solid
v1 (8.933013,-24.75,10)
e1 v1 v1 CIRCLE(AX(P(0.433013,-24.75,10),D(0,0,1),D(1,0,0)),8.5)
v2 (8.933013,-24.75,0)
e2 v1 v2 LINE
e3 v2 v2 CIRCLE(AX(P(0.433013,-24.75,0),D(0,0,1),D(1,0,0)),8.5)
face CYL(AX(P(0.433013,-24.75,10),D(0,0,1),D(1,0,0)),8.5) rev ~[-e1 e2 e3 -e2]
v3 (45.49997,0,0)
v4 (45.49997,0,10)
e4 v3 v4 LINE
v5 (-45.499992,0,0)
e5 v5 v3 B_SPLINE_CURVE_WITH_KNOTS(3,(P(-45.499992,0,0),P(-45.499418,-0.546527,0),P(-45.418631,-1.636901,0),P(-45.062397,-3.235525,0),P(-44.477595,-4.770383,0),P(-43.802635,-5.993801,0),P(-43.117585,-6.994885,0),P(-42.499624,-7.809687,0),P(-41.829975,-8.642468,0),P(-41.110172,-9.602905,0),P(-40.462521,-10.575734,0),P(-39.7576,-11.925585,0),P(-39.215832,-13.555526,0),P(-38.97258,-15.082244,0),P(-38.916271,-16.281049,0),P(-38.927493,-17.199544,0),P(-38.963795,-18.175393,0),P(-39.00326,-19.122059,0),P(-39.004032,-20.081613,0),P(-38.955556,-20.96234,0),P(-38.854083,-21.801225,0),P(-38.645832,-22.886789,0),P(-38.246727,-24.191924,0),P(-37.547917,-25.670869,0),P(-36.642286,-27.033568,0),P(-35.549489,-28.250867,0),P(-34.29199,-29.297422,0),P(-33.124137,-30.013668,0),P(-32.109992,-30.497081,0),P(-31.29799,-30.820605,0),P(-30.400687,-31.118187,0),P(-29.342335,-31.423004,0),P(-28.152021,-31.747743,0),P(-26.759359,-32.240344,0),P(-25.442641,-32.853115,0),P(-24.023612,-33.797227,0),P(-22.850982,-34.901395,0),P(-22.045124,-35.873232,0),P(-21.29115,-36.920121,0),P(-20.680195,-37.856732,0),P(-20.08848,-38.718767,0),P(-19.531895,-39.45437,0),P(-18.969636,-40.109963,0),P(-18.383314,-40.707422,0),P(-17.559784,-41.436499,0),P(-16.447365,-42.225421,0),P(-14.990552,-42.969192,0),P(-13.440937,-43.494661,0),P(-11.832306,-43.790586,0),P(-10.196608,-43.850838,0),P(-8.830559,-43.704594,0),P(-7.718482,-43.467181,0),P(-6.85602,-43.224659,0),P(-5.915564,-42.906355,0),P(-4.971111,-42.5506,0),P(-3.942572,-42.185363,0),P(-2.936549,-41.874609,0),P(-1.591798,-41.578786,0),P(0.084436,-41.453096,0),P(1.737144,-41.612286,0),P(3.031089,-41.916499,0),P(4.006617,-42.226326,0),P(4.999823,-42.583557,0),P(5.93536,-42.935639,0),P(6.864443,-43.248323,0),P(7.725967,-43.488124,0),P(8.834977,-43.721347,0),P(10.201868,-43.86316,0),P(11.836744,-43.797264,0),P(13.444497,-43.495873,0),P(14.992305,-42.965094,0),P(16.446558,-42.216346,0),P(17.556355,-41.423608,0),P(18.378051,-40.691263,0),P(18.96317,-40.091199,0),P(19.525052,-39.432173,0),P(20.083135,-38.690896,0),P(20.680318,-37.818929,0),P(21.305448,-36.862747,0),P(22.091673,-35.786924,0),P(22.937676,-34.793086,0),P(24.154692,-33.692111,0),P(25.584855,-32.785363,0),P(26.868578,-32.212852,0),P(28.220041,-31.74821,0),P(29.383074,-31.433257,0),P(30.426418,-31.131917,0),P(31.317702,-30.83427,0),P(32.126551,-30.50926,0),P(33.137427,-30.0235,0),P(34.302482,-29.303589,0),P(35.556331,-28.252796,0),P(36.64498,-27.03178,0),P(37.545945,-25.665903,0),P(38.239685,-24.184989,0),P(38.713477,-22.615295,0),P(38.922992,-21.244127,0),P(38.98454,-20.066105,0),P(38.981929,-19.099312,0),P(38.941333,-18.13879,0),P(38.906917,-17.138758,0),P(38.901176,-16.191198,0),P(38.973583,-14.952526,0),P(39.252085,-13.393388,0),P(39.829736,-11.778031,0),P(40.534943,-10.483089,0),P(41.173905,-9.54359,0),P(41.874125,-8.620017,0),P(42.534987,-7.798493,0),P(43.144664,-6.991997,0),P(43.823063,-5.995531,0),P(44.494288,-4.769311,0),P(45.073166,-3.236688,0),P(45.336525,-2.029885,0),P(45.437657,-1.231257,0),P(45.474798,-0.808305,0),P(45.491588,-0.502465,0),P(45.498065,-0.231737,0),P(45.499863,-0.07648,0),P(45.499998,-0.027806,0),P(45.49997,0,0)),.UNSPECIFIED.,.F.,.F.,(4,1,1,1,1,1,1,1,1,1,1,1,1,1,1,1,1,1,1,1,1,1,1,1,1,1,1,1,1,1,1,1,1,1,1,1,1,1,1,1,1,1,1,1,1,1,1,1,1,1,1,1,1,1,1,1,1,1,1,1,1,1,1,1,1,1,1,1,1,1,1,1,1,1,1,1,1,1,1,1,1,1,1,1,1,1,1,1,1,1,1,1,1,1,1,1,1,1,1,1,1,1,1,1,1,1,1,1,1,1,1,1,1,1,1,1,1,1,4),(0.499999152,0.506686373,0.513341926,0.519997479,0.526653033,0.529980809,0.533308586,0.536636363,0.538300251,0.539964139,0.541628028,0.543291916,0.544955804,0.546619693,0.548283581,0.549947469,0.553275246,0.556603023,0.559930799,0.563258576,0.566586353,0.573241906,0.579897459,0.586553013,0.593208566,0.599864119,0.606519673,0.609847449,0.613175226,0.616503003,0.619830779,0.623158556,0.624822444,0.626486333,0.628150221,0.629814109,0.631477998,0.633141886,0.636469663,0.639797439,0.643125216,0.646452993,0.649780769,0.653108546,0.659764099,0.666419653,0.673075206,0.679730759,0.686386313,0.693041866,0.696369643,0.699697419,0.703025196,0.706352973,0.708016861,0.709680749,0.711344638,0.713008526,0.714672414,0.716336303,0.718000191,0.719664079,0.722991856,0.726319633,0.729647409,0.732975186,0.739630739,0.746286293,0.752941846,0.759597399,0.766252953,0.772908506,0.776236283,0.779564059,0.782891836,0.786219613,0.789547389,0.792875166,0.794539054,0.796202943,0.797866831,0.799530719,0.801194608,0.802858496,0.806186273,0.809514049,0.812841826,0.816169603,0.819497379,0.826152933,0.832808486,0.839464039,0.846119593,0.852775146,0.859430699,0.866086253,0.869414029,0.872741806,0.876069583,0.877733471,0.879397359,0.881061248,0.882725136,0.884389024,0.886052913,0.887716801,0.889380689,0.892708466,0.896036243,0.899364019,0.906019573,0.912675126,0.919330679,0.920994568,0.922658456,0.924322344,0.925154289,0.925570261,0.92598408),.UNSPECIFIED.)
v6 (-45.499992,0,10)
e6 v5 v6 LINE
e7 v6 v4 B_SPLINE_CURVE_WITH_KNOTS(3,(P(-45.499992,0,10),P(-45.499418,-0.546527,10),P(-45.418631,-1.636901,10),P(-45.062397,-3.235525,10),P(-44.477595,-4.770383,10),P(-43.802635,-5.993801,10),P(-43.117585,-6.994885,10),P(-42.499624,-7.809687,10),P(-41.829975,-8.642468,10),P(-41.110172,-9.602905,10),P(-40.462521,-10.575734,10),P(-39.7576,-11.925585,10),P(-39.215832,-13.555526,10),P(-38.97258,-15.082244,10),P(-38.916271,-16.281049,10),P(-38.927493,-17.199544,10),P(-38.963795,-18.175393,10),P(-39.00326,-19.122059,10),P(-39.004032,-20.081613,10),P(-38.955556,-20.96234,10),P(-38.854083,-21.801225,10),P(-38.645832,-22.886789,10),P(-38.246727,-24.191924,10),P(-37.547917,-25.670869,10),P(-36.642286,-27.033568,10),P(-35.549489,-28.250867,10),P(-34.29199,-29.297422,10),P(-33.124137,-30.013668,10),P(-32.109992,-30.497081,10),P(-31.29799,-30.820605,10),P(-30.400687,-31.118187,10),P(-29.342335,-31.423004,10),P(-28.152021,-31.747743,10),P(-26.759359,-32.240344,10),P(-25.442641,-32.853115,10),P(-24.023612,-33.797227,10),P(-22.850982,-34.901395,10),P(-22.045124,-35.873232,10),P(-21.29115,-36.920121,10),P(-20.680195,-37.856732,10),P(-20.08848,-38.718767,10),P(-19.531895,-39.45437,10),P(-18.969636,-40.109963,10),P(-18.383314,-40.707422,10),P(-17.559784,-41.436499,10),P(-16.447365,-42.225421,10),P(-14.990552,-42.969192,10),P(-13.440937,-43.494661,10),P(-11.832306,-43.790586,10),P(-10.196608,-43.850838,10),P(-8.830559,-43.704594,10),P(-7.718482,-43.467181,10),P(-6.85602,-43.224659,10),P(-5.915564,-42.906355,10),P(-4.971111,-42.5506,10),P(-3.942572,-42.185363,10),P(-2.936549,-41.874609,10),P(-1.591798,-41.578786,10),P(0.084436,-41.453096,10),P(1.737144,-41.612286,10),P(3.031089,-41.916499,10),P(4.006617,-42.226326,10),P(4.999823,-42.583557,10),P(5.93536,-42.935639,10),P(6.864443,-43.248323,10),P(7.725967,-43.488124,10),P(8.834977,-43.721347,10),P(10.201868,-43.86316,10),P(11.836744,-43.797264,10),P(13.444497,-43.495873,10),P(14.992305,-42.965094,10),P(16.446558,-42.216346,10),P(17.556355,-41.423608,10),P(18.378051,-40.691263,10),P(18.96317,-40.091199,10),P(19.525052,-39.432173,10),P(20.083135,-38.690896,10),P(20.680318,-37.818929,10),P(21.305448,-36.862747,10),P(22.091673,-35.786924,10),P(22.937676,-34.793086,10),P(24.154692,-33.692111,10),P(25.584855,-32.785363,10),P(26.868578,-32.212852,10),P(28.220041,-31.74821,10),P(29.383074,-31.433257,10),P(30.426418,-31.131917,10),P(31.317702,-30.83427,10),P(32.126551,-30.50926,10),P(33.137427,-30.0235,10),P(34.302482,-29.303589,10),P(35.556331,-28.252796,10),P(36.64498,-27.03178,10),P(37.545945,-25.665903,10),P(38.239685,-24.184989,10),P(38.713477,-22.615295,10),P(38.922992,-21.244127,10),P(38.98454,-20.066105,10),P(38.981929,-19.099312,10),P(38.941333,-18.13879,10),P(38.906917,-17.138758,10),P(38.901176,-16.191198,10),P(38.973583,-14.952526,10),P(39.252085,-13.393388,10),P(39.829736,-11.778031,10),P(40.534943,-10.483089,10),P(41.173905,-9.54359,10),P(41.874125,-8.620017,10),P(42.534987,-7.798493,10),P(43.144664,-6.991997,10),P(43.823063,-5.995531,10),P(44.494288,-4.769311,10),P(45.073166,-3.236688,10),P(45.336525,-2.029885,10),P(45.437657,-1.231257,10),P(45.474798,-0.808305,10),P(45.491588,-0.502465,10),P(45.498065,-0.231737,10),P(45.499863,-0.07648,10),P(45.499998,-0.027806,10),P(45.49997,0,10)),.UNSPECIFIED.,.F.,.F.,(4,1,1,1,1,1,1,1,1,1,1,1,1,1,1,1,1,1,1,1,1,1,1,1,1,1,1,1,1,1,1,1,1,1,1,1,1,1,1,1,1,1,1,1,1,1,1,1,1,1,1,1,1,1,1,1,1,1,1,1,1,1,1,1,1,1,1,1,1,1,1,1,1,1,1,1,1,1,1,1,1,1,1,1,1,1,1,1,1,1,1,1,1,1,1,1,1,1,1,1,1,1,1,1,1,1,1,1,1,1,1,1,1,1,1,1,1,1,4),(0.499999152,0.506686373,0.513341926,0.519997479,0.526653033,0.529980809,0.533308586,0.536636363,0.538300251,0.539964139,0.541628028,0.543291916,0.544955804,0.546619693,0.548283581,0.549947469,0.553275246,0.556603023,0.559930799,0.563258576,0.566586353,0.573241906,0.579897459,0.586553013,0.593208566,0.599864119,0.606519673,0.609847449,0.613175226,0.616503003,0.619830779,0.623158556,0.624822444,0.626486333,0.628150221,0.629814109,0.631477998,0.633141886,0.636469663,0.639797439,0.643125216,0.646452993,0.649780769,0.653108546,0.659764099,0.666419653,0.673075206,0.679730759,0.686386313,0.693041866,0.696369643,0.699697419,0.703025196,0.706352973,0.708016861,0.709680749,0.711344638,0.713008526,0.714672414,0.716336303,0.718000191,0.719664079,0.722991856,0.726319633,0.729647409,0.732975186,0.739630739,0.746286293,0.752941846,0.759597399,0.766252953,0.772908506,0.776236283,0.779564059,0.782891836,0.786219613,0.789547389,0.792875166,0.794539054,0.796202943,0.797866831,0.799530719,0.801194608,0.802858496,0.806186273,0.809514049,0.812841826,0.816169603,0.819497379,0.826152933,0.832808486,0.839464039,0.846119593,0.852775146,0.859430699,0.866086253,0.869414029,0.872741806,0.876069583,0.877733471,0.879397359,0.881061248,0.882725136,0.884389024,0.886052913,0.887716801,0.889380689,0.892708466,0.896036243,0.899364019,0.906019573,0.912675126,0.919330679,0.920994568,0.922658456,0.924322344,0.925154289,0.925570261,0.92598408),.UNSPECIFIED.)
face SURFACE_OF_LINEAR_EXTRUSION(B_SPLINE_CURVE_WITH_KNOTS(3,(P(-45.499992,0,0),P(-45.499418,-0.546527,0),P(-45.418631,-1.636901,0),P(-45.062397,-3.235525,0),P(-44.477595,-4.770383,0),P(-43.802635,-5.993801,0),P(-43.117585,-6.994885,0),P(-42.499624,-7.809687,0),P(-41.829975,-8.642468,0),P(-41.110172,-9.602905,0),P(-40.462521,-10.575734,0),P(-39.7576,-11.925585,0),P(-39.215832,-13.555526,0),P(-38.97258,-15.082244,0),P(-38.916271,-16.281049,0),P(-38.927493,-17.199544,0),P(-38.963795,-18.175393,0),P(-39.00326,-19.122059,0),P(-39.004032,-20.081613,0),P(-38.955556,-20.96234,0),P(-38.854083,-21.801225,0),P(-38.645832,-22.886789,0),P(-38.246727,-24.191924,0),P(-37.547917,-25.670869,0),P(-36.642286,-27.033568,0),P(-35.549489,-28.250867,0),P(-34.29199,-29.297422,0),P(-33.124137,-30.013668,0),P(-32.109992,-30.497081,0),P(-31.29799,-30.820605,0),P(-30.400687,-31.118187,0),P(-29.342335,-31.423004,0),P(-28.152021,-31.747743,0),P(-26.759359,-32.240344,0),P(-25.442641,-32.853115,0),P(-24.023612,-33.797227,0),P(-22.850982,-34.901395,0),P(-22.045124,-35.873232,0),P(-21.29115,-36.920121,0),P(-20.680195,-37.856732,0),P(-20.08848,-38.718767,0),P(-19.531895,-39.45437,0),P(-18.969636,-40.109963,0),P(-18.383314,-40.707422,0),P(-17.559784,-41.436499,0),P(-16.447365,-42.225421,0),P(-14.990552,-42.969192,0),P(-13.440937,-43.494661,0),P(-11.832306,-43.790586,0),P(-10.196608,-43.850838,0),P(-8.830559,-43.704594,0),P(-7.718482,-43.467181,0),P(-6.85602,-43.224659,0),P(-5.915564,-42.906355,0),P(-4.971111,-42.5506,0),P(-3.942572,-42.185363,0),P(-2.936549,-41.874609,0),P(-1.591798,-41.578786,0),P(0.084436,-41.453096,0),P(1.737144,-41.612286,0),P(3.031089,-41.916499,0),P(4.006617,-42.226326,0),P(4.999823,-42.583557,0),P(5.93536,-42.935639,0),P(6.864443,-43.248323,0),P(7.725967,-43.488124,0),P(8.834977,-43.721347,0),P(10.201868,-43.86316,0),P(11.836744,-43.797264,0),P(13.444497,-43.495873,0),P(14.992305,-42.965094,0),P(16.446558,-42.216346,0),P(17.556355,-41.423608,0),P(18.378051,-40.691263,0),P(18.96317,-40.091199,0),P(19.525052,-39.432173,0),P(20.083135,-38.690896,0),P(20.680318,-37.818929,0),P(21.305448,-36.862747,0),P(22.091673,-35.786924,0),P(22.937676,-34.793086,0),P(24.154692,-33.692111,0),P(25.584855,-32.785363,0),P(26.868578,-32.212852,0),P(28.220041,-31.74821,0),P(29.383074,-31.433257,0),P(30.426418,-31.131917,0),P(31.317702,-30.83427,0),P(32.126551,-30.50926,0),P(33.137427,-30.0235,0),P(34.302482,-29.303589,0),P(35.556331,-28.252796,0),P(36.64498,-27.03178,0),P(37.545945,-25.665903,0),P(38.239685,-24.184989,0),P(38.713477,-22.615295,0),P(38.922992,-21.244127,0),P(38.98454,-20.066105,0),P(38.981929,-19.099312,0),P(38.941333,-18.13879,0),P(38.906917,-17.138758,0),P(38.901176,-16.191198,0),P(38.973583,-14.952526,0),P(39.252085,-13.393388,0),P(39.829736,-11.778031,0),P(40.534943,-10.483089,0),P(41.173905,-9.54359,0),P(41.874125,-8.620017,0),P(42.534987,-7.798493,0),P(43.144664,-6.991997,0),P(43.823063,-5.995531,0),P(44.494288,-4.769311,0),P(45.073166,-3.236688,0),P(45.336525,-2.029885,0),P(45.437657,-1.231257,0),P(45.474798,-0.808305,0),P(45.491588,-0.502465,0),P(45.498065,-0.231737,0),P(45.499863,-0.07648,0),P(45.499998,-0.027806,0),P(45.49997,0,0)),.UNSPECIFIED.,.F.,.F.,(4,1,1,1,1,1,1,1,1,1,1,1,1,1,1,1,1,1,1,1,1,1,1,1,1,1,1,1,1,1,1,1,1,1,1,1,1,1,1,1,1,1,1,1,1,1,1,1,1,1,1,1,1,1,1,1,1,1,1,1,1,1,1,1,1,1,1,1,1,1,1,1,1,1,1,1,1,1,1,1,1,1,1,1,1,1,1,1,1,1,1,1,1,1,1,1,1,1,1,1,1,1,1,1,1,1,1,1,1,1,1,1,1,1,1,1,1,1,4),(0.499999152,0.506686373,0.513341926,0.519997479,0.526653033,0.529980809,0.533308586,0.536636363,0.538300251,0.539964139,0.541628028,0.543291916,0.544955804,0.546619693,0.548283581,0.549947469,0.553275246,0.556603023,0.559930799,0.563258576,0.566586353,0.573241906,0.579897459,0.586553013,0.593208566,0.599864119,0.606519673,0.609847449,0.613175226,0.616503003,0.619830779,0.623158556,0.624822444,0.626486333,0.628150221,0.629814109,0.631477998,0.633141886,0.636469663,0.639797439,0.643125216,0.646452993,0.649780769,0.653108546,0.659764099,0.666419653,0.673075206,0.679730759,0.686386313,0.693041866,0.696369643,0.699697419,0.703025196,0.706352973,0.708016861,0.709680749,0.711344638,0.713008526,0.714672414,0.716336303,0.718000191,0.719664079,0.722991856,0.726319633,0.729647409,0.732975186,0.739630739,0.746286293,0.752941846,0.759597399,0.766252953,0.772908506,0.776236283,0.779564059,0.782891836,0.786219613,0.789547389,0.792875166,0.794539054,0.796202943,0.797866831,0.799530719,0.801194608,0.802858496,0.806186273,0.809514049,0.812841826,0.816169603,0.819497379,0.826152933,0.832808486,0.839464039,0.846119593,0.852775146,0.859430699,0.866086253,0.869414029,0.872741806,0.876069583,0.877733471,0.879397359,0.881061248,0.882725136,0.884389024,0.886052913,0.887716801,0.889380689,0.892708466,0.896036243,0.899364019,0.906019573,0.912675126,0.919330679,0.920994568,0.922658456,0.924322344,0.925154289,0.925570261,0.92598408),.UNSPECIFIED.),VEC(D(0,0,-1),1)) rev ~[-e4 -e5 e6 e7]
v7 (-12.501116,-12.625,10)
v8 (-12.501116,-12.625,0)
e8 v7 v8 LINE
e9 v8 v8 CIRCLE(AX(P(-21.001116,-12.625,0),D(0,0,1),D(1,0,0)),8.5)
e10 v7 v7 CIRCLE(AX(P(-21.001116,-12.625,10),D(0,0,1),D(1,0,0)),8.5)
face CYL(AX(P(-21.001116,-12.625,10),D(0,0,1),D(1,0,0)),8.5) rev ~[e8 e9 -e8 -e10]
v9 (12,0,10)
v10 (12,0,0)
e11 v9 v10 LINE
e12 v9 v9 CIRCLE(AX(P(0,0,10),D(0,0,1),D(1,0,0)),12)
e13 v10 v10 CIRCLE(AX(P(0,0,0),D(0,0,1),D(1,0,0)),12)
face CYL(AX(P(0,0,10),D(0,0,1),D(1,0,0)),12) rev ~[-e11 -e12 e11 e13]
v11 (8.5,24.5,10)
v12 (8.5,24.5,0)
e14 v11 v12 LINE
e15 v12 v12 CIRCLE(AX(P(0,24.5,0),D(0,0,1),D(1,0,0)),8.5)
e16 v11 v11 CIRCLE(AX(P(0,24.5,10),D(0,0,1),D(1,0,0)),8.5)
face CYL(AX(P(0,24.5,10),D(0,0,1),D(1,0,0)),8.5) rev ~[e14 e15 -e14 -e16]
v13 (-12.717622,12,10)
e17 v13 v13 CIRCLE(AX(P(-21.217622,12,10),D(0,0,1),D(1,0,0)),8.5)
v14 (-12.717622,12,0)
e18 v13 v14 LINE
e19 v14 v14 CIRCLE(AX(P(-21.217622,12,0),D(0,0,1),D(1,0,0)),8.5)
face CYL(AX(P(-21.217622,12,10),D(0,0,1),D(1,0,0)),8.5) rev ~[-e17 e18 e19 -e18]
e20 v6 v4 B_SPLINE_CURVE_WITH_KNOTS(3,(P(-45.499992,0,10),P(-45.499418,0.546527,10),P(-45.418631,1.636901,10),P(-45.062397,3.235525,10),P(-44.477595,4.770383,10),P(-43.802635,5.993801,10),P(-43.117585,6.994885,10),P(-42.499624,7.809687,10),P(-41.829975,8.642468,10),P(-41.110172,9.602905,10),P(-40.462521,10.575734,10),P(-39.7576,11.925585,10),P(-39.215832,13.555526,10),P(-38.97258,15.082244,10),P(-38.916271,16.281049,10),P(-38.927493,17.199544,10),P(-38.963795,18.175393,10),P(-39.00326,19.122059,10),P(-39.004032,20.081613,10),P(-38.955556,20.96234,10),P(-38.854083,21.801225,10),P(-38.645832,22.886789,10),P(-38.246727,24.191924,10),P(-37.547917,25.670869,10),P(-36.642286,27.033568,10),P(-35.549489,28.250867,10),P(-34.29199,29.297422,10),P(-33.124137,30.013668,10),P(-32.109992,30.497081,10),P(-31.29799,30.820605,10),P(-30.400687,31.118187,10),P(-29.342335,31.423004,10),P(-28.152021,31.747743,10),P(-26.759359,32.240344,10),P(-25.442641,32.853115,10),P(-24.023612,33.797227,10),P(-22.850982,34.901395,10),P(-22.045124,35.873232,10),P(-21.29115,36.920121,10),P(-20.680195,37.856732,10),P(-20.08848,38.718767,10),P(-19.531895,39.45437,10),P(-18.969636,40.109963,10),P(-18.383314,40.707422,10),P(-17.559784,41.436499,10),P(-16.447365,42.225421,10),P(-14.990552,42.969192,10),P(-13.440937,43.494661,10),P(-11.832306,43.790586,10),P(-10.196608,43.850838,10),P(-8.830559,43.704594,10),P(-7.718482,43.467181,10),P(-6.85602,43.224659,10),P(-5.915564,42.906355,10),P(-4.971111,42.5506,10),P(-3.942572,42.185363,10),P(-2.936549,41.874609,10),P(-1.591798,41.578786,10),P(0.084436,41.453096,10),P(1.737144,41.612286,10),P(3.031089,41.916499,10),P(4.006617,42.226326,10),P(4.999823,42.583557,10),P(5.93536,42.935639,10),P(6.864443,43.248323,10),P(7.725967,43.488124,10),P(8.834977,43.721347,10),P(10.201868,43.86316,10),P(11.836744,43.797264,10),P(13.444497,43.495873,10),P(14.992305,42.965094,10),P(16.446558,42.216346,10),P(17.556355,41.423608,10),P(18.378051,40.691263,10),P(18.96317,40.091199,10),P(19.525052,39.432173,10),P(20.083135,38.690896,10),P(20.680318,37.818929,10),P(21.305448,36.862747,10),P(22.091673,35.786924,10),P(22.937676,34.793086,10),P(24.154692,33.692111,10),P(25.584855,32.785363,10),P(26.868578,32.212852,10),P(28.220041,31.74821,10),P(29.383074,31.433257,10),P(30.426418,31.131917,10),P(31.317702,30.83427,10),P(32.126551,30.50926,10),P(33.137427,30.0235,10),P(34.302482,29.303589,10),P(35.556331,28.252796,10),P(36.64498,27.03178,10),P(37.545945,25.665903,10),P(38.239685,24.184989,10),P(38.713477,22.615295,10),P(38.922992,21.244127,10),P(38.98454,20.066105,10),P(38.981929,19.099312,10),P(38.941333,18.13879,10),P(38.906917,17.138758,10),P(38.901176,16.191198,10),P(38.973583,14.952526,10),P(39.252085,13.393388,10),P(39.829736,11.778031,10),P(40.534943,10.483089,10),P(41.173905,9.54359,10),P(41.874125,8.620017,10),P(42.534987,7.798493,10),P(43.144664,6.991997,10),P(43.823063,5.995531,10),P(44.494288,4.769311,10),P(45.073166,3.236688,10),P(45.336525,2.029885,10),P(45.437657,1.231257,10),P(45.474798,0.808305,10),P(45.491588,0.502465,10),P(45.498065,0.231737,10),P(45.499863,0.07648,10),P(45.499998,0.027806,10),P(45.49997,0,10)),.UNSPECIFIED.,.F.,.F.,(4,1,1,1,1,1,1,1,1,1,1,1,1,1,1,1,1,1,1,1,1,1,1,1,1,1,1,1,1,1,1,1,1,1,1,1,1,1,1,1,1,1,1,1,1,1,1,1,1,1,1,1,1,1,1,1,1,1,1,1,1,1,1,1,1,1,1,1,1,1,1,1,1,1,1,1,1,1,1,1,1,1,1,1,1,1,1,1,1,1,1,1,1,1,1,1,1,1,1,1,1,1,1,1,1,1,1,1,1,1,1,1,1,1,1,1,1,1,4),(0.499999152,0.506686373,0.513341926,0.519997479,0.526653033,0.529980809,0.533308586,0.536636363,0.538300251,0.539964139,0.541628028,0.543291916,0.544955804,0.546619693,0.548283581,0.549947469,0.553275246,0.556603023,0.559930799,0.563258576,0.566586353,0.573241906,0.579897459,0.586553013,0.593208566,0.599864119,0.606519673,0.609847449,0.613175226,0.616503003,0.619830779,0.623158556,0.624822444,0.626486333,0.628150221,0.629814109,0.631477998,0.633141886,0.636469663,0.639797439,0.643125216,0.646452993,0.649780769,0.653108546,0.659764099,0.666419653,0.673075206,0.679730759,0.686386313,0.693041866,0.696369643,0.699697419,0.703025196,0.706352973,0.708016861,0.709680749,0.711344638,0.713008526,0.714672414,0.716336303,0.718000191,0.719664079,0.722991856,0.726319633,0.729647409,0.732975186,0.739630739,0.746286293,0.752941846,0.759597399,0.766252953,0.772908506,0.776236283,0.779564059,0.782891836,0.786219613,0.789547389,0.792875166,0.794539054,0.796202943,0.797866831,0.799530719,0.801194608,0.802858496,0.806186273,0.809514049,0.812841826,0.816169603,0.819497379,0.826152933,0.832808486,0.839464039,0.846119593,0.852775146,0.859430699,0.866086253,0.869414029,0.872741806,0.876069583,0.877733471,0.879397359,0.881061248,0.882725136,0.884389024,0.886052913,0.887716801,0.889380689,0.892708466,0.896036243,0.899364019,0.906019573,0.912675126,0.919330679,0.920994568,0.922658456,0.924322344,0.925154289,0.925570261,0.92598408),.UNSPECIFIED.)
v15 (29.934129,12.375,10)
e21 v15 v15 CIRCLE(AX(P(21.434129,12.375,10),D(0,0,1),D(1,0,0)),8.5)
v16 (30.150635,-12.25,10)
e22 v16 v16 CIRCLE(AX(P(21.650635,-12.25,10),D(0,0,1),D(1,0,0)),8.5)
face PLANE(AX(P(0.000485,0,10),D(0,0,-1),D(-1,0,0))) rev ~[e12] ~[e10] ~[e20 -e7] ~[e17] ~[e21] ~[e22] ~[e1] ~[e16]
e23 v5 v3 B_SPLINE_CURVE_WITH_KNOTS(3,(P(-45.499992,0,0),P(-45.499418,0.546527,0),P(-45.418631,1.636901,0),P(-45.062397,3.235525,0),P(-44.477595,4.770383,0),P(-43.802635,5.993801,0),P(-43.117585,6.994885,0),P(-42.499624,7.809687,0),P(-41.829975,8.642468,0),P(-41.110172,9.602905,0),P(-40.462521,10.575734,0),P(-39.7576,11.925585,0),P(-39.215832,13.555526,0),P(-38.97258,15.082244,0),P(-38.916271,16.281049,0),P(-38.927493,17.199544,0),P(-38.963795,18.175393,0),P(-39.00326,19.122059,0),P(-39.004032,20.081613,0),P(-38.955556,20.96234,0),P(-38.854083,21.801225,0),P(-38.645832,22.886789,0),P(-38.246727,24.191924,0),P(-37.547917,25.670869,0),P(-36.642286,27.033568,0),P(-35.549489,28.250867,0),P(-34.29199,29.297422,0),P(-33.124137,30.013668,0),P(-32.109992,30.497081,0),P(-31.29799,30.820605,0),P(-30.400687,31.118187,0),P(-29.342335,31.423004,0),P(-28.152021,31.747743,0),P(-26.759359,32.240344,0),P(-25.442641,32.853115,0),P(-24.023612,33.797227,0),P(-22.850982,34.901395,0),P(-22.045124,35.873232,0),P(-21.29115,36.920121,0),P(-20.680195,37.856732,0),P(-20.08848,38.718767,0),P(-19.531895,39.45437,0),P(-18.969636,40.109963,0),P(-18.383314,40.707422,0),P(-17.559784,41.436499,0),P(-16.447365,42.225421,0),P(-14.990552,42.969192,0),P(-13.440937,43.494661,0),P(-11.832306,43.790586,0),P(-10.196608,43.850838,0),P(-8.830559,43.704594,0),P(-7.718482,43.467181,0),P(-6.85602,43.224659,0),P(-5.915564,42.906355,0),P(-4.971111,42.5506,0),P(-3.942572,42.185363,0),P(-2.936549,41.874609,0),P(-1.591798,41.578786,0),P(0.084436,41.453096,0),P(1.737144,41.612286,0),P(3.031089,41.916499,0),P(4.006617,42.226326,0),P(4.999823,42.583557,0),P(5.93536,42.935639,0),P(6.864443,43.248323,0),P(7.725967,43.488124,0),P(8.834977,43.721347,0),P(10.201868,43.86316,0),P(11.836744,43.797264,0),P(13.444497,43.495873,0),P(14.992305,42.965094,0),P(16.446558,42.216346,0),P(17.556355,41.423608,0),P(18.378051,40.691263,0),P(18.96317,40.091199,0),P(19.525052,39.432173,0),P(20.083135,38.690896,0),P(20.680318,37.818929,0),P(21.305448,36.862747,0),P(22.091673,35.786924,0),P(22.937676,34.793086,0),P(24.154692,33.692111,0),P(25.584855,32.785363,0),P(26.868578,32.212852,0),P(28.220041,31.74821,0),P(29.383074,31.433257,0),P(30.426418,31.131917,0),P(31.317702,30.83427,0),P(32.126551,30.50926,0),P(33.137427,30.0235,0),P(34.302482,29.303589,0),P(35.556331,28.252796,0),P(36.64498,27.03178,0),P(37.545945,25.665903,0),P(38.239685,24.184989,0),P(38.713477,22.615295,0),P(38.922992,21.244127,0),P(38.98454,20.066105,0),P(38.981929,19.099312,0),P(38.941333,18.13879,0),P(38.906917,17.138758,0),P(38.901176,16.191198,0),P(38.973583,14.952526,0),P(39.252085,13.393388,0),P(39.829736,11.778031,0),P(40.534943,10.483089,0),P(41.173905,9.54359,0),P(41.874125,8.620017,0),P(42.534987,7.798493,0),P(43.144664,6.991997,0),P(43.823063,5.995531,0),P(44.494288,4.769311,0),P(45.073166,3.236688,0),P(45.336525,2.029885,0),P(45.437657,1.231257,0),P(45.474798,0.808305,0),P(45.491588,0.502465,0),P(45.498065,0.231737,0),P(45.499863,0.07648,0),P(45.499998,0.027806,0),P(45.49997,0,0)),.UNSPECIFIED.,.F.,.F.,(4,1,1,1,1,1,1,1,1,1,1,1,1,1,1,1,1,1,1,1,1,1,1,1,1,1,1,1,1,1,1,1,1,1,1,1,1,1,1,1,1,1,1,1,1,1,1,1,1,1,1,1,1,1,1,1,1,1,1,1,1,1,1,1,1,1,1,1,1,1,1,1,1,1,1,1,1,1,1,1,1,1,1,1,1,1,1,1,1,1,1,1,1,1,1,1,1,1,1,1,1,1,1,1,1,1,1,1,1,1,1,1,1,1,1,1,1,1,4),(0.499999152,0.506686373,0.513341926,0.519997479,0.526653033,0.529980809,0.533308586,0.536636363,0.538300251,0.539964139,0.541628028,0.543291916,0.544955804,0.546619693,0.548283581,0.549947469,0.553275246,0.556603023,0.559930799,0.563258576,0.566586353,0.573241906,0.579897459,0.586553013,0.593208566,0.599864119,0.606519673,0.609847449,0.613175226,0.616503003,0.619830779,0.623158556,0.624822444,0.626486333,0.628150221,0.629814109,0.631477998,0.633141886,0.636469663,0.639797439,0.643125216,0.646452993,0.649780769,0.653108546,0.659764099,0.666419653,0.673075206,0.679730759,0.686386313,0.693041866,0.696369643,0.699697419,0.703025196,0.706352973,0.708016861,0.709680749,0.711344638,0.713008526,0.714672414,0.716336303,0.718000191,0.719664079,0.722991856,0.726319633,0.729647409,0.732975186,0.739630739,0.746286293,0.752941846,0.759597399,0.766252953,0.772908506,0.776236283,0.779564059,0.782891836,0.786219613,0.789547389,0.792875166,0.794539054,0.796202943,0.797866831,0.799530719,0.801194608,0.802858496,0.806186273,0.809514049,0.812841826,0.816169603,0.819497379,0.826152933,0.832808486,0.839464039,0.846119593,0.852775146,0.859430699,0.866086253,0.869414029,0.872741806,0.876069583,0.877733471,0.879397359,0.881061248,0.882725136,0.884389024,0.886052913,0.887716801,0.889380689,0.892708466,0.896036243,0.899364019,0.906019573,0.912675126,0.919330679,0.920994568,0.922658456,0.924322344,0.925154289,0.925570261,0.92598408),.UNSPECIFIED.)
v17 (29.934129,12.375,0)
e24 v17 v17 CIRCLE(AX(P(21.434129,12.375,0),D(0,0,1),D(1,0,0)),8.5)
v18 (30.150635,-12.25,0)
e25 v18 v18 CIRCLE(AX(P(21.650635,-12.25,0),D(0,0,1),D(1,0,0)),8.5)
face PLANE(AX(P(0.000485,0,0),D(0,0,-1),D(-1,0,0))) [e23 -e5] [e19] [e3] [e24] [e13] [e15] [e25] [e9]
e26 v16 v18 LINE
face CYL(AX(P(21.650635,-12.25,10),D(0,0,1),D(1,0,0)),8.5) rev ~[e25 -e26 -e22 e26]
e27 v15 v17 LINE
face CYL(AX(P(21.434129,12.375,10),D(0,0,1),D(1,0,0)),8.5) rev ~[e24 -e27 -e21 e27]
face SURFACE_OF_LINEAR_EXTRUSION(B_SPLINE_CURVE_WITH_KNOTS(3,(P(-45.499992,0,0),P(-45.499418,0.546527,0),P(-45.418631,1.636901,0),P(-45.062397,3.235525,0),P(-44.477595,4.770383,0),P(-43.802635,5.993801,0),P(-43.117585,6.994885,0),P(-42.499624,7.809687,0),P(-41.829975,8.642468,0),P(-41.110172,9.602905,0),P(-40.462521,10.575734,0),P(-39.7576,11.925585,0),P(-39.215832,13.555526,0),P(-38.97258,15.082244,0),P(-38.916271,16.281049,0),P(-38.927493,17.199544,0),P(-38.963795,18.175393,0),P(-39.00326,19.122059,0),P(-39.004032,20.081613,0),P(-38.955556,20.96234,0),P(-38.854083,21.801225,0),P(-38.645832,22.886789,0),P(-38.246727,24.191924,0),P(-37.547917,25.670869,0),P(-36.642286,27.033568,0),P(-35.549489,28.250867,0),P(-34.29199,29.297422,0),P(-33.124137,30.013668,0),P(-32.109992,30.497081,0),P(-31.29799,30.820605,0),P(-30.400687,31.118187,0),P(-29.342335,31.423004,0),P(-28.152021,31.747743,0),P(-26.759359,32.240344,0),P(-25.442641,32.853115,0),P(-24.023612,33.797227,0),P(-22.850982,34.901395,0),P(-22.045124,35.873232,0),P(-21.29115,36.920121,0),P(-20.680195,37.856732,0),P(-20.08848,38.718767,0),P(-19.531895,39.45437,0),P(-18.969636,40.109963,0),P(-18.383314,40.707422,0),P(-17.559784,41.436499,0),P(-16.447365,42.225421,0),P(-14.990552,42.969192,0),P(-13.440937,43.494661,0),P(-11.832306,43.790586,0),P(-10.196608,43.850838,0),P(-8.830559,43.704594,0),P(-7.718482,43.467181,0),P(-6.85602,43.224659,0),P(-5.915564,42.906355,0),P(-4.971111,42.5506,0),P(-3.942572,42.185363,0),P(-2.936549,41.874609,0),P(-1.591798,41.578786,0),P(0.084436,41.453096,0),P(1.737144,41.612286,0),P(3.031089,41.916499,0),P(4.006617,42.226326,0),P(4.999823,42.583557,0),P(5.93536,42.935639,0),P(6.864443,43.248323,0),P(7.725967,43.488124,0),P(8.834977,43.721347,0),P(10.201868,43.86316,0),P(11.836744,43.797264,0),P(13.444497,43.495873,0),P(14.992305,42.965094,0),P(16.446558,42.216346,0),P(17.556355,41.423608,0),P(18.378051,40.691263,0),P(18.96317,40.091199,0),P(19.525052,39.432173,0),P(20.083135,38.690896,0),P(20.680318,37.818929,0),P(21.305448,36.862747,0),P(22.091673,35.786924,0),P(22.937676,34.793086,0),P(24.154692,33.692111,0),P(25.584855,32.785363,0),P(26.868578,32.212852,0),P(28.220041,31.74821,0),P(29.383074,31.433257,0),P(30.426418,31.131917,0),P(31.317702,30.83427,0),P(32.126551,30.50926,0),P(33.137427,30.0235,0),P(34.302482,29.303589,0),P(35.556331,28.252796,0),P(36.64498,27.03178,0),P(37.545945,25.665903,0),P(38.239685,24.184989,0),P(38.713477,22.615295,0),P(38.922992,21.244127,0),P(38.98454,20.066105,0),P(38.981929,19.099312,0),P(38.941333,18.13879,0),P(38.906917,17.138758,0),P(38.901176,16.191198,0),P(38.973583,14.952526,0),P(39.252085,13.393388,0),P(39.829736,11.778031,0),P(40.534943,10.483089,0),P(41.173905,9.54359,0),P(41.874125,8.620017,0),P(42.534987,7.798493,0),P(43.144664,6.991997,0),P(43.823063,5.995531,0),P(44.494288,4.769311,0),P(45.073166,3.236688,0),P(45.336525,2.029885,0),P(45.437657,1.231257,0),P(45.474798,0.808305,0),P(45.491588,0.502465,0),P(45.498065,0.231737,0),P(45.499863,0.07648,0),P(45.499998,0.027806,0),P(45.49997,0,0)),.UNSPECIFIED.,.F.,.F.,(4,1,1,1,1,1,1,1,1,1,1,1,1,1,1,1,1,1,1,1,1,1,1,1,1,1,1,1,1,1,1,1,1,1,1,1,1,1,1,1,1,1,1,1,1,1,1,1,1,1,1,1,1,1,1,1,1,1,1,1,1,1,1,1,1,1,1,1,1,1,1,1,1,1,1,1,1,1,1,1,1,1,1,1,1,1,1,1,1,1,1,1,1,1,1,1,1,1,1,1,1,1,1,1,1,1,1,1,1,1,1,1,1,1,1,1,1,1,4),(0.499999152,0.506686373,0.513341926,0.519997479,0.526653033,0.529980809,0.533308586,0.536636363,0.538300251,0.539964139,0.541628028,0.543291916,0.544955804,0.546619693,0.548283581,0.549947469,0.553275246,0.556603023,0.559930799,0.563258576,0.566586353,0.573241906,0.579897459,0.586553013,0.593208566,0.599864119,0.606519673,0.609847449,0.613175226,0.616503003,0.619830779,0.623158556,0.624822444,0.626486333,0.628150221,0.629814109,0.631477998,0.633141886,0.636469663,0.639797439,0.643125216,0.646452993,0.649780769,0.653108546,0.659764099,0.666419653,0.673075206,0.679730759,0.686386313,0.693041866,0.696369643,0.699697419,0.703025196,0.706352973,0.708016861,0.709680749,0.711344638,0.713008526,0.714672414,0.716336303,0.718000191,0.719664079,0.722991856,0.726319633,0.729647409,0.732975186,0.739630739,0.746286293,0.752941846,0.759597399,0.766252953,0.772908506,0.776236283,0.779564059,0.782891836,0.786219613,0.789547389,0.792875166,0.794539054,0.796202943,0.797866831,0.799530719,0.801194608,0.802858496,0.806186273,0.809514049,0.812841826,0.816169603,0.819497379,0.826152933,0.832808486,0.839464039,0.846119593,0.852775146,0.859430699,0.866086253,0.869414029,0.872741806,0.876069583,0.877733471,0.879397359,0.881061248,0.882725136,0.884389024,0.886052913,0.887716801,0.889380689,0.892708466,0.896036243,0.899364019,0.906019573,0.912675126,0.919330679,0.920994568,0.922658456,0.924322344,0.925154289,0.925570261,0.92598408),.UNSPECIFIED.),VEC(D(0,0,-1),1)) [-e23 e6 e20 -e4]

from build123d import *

# Parameters (mm, degrees)
BOSS_EXTRUDE1_DEPTH = 10
SKETCH2_R           = 12
SKETCH2_R_2         = 8.5
CUT_EXTRUDE2_DEPTH  = 10


with BuildPart() as part:
    # Sketch1 → Boss-Extrude1 (new body)
    with BuildSketch(Plane.XY):
        with BuildLine():
            add(Edge.make_bspline(
                [(-45.499991694, 0), (-45.499417721, 0.54652661), (-45.418630588, 1.636900829), (-45.062396728, 3.235524804), (-44.477595123, 4.770382806), (-43.802635021, 5.993801031), (-43.117584752, 6.994885069), (-42.499623664, 7.809687397), (-41.82997492, 8.642468091), (-41.110172207, 9.602905255), (-40.462520937, 10.575733976), (-39.757599748, 11.925585369), (-39.21583214, 13.555526257), (-38.972579651, 15.082244143), (-38.916270686, 16.281048526), (-38.927492874, 17.199543984), (-38.963794875, 18.175392663), (-39.003260031, 19.122059111), (-39.004031898, 20.081613072), (-38.955556207, 20.962340021), (-38.854082596, 21.801225418), (-38.645832299, 22.886789494), (-38.246727363, 24.191924223), (-37.547916858, 25.670868524), (-36.642286396, 27.033568382), (-35.549489209, 28.250867407), (-34.291990165, 29.297421962), (-33.12413689, 30.013667887), (-32.109992276, 30.49708058), (-31.297990382, 30.820605491), (-30.400687176, 31.118187135), (-29.3423349, 31.423004054), (-28.152021465, 31.747743147), (-26.759358853, 32.240343704), (-25.442641388, 32.853114744), (-24.023611732, 33.797227333), (-22.850981946, 34.90139513), (-22.045123753, 35.873232183), (-21.291150407, 36.920120743), (-20.680195351, 37.856732434), (-20.088480395, 38.718766678), (-19.531895352, 39.454370141), (-18.969636206, 40.109962603), (-18.383313671, 40.707421925), (-17.559784405, 41.436499391), (-16.447365301, 42.225420988), (-14.990552327, 42.969192488), (-13.440937058, 43.494661463), (-11.832306004, 43.790586252), (-10.196608172, 43.850838017), (-8.830558811, 43.704594158), (-7.718482479, 43.467180552), (-6.856019595, 43.224658939), (-5.915563706, 42.906355358), (-4.971111409, 42.550599633), (-3.942572046, 42.185362917), (-2.936548867, 41.874608525), (-1.591797743, 41.578785718), (0.084435721, 41.45309614), (1.737144316, 41.612285896), (3.031089125, 41.916499054), (4.006617187, 42.226326403), (4.999822604, 42.583557047), (5.935359682, 42.935639327), (6.864442923, 43.248322873), (7.725966983, 43.488123505), (8.834976574, 43.72134679), (10.201868138, 43.863159919), (11.836743584, 43.797264283), (13.444496644, 43.495872577), (14.992304531, 42.965093559), (16.446557836, 42.216346112), (17.556354774, 41.423607634), (18.378051445, 40.691263199), (18.963169579, 40.091199195), (19.525051949, 39.43217282), (20.083134983, 38.690896479), (20.680317711, 37.818928574), (21.305447581, 36.862747147), (22.091672553, 35.786924264), (22.937676069, 34.793085604), (24.154692188, 33.692110976), (25.584855424, 32.78536337), (26.868578459, 32.212851771), (28.220040833, 31.748210157), (29.383074268, 31.433257106), (30.426417711, 31.131917254), (31.317702477, 30.834269586), (32.126551087, 30.509259886), (33.13742679, 30.023499614), (34.302481893, 29.303589201), (35.556330934, 28.252795818), (36.644980393, 27.031780142), (37.545944658, 25.665902571), (38.239684637, 24.18498897), (38.713477442, 22.615295054), (38.92299222, 21.244126843), (38.984539855, 20.066104892), (38.981929249, 19.099312235), (38.941333185, 18.138789763), (38.906917281, 17.138757979), (38.90117585, 16.191197892), (38.9735828, 14.952525555), (39.25208527, 13.393388424), (39.829735801, 11.778030931), (40.534942522, 10.483089413), (41.17390481, 9.543590139), (41.874124828, 8.620016996), (42.53498679, 7.798492583), (43.144664402, 6.991997202), (43.823062809, 5.995531268), (44.494288144, 4.769310997), (45.073166177, 3.236688202), (45.336525158, 2.029885151), (45.437657193, 1.231257024), (45.474797823, 0.808305023), (45.491588116, 0.50246478), (45.498064717, 0.231736882), (45.499863392, 0.076479982), (45.49999849, 0.027806284), (45.499970481, 0)],
                knots=[0.499999152, 0.499999152, 0.499999152, 0.499999152, 0.506686373, 0.513341926, 0.519997479, 0.526653033, 0.529980809, 0.533308586, 0.536636363, 0.538300251, 0.539964139, 0.541628028, 0.543291916, 0.544955804, 0.546619693, 0.548283581, 0.549947469, 0.553275246, 0.556603023, 0.559930799, 0.563258576, 0.566586353, 0.573241906, 0.579897459, 0.586553013, 0.593208566, 0.599864119, 0.606519673, 0.609847449, 0.613175226, 0.616503003, 0.619830779, 0.623158556, 0.624822444, 0.626486333, 0.628150221, 0.629814109, 0.631477998, 0.633141886, 0.636469663, 0.639797439, 0.643125216, 0.646452993, 0.649780769, 0.653108546, 0.659764099, 0.666419653, 0.673075206, 0.679730759, 0.686386313, 0.693041866, 0.696369643, 0.699697419, 0.703025196, 0.706352973, 0.708016861, 0.709680749, 0.711344638, 0.713008526, 0.714672414, 0.716336303, 0.718000191, 0.719664079, 0.722991856, 0.726319633, 0.729647409, 0.732975186, 0.739630739, 0.746286293, 0.752941846, 0.759597399, 0.766252953, 0.772908506, 0.776236283, 0.779564059, 0.782891836, 0.786219613, 0.789547389, 0.792875166, 0.794539054, 0.796202943, 0.797866831, 0.799530719, 0.801194608, 0.802858496, 0.806186273, 0.809514049, 0.812841826, 0.816169603, 0.819497379, 0.826152933, 0.832808486, 0.839464039, 0.846119593, 0.852775146, 0.859430699, 0.866086253, 0.869414029, 0.872741806, 0.876069583, 0.877733471, 0.879397359, 0.881061248, 0.882725136, 0.884389024, 0.886052913, 0.887716801, 0.889380689, 0.892708466, 0.896036243, 0.899364019, 0.906019573, 0.912675126, 0.919330679, 0.920994568, 0.922658456, 0.924322344, 0.925154289, 0.925570261, 0.92598408, 0.92598408, 0.92598408, 0.92598408], degree=3))
            add(Edge.make_bspline(
                [(-45.499991694, 0), (-45.499417721, -0.54652661), (-45.418630588, -1.636900829), (-45.062396728, -3.235524804), (-44.477595123, -4.770382806), (-43.802635021, -5.993801031), (-43.117584752, -6.994885069), (-42.499623664, -7.809687397), (-41.82997492, -8.642468091), (-41.110172207, -9.602905255), (-40.462520937, -10.575733976), (-39.757599748, -11.925585369), (-39.21583214, -13.555526257), (-38.972579651, -15.082244143), (-38.916270686, -16.281048526), (-38.927492874, -17.199543984), (-38.963794875, -18.175392663), (-39.003260031, -19.122059111), (-39.004031898, -20.081613072), (-38.955556207, -20.962340021), (-38.854082596, -21.801225418), (-38.645832299, -22.886789494), (-38.246727363, -24.191924223), (-37.547916858, -25.670868524), (-36.642286396, -27.033568382), (-35.549489209, -28.250867407), (-34.291990165, -29.297421962), (-33.12413689, -30.013667887), (-32.109992276, -30.49708058), (-31.297990382, -30.820605491), (-30.400687176, -31.118187135), (-29.3423349, -31.423004054), (-28.152021465, -31.747743147), (-26.759358853, -32.240343704), (-25.442641388, -32.853114744), (-24.023611732, -33.797227333), (-22.850981946, -34.90139513), (-22.045123753, -35.873232183), (-21.291150407, -36.920120743), (-20.680195351, -37.856732434), (-20.088480395, -38.718766678), (-19.531895352, -39.454370141), (-18.969636206, -40.109962603), (-18.383313671, -40.707421925), (-17.559784405, -41.436499391), (-16.447365301, -42.225420988), (-14.990552327, -42.969192488), (-13.440937058, -43.494661463), (-11.832306004, -43.790586252), (-10.196608172, -43.850838017), (-8.830558811, -43.704594158), (-7.718482479, -43.467180552), (-6.856019595, -43.224658939), (-5.915563706, -42.906355358), (-4.971111409, -42.550599633), (-3.942572046, -42.185362917), (-2.936548867, -41.874608525), (-1.591797743, -41.578785718), (0.084435721, -41.45309614), (1.737144316, -41.612285896), (3.031089125, -41.916499054), (4.006617187, -42.226326403), (4.999822604, -42.583557047), (5.935359682, -42.935639327), (6.864442923, -43.248322873), (7.725966983, -43.488123505), (8.834976574, -43.72134679), (10.201868138, -43.863159919), (11.836743584, -43.797264283), (13.444496644, -43.495872577), (14.992304531, -42.965093559), (16.446557836, -42.216346112), (17.556354774, -41.423607634), (18.378051445, -40.691263199), (18.963169579, -40.091199195), (19.525051949, -39.43217282), (20.083134983, -38.690896479), (20.680317711, -37.818928574), (21.305447581, -36.862747147), (22.091672553, -35.786924264), (22.937676069, -34.793085604), (24.154692188, -33.692110976), (25.584855424, -32.78536337), (26.868578459, -32.212851771), (28.220040833, -31.748210157), (29.383074268, -31.433257106), (30.426417711, -31.131917254), (31.317702477, -30.834269586), (32.126551087, -30.509259886), (33.13742679, -30.023499614), (34.302481893, -29.303589201), (35.556330934, -28.252795818), (36.644980393, -27.031780142), (37.545944658, -25.665902571), (38.239684637, -24.18498897), (38.713477442, -22.615295054), (38.92299222, -21.244126843), (38.984539855, -20.066104892), (38.981929249, -19.099312235), (38.941333185, -18.138789763), (38.906917281, -17.138757979), (38.90117585, -16.191197892), (38.9735828, -14.952525555), (39.25208527, -13.393388424), (39.829735801, -11.778030931), (40.534942522, -10.483089413), (41.17390481, -9.543590139), (41.874124828, -8.620016996), (42.53498679, -7.798492583), (43.144664402, -6.991997202), (43.823062809, -5.995531268), (44.494288144, -4.769310997), (45.073166177, -3.236688202), (45.336525158, -2.029885151), (45.437657193, -1.231257024), (45.474797823, -0.808305023), (45.491588116, -0.50246478), (45.498064717, -0.231736882), (45.499863392, -0.076479982), (45.49999849, -0.027806284), (45.499970481, 0)],
                knots=[0.499999152, 0.499999152, 0.499999152, 0.499999152, 0.506686373, 0.513341926, 0.519997479, 0.526653033, 0.529980809, 0.533308586, 0.536636363, 0.538300251, 0.539964139, 0.541628028, 0.543291916, 0.544955804, 0.546619693, 0.548283581, 0.549947469, 0.553275246, 0.556603023, 0.559930799, 0.563258576, 0.566586353, 0.573241906, 0.579897459, 0.586553013, 0.593208566, 0.599864119, 0.606519673, 0.609847449, 0.613175226, 0.616503003, 0.619830779, 0.623158556, 0.624822444, 0.626486333, 0.628150221, 0.629814109, 0.631477998, 0.633141886, 0.636469663, 0.639797439, 0.643125216, 0.646452993, 0.649780769, 0.653108546, 0.659764099, 0.666419653, 0.673075206, 0.679730759, 0.686386313, 0.693041866, 0.696369643, 0.699697419, 0.703025196, 0.706352973, 0.708016861, 0.709680749, 0.711344638, 0.713008526, 0.714672414, 0.716336303, 0.718000191, 0.719664079, 0.722991856, 0.726319633, 0.729647409, 0.732975186, 0.739630739, 0.746286293, 0.752941846, 0.759597399, 0.766252953, 0.772908506, 0.776236283, 0.779564059, 0.782891836, 0.786219613, 0.789547389, 0.792875166, 0.794539054, 0.796202943, 0.797866831, 0.799530719, 0.801194608, 0.802858496, 0.806186273, 0.809514049, 0.812841826, 0.816169603, 0.819497379, 0.826152933, 0.832808486, 0.839464039, 0.846119593, 0.852775146, 0.859430699, 0.866086253, 0.869414029, 0.872741806, 0.876069583, 0.877733471, 0.879397359, 0.881061248, 0.882725136, 0.884389024, 0.886052913, 0.887716801, 0.889380689, 0.892708466, 0.896036243, 0.899364019, 0.906019573, 0.912675126, 0.919330679, 0.920994568, 0.922658456, 0.924322344, 0.925154289, 0.925570261, 0.92598408, 0.92598408, 0.92598408, 0.92598408], degree=3))
        make_face()
    extrude(amount=BOSS_EXTRUDE1_DEPTH)

    # Sketch2 → Cut-Extrude2 (cut)
    with BuildSketch(Plane.XY.offset(10)):
        Circle(SKETCH2_R)
        with Locations((0, 24.5)):
            Circle(SKETCH2_R_2)
        with Locations((21.434128744, 12.375)):
            Circle(SKETCH2_R_2)
        with Locations((21.650635095, -12.25)):
            Circle(SKETCH2_R_2)
        with Locations((0.433012702, -24.75)):
            Circle(SKETCH2_R_2)
        with Locations((-21.001116042, -12.625)):
            Circle(SKETCH2_R_2)
        with Locations((-21.217622393, 12)):
            Circle(SKETCH2_R_2)
    extrude(amount=-CUT_EXTRUDE2_DEPTH, mode=Mode.SUBTRACT)


solid = part.part
